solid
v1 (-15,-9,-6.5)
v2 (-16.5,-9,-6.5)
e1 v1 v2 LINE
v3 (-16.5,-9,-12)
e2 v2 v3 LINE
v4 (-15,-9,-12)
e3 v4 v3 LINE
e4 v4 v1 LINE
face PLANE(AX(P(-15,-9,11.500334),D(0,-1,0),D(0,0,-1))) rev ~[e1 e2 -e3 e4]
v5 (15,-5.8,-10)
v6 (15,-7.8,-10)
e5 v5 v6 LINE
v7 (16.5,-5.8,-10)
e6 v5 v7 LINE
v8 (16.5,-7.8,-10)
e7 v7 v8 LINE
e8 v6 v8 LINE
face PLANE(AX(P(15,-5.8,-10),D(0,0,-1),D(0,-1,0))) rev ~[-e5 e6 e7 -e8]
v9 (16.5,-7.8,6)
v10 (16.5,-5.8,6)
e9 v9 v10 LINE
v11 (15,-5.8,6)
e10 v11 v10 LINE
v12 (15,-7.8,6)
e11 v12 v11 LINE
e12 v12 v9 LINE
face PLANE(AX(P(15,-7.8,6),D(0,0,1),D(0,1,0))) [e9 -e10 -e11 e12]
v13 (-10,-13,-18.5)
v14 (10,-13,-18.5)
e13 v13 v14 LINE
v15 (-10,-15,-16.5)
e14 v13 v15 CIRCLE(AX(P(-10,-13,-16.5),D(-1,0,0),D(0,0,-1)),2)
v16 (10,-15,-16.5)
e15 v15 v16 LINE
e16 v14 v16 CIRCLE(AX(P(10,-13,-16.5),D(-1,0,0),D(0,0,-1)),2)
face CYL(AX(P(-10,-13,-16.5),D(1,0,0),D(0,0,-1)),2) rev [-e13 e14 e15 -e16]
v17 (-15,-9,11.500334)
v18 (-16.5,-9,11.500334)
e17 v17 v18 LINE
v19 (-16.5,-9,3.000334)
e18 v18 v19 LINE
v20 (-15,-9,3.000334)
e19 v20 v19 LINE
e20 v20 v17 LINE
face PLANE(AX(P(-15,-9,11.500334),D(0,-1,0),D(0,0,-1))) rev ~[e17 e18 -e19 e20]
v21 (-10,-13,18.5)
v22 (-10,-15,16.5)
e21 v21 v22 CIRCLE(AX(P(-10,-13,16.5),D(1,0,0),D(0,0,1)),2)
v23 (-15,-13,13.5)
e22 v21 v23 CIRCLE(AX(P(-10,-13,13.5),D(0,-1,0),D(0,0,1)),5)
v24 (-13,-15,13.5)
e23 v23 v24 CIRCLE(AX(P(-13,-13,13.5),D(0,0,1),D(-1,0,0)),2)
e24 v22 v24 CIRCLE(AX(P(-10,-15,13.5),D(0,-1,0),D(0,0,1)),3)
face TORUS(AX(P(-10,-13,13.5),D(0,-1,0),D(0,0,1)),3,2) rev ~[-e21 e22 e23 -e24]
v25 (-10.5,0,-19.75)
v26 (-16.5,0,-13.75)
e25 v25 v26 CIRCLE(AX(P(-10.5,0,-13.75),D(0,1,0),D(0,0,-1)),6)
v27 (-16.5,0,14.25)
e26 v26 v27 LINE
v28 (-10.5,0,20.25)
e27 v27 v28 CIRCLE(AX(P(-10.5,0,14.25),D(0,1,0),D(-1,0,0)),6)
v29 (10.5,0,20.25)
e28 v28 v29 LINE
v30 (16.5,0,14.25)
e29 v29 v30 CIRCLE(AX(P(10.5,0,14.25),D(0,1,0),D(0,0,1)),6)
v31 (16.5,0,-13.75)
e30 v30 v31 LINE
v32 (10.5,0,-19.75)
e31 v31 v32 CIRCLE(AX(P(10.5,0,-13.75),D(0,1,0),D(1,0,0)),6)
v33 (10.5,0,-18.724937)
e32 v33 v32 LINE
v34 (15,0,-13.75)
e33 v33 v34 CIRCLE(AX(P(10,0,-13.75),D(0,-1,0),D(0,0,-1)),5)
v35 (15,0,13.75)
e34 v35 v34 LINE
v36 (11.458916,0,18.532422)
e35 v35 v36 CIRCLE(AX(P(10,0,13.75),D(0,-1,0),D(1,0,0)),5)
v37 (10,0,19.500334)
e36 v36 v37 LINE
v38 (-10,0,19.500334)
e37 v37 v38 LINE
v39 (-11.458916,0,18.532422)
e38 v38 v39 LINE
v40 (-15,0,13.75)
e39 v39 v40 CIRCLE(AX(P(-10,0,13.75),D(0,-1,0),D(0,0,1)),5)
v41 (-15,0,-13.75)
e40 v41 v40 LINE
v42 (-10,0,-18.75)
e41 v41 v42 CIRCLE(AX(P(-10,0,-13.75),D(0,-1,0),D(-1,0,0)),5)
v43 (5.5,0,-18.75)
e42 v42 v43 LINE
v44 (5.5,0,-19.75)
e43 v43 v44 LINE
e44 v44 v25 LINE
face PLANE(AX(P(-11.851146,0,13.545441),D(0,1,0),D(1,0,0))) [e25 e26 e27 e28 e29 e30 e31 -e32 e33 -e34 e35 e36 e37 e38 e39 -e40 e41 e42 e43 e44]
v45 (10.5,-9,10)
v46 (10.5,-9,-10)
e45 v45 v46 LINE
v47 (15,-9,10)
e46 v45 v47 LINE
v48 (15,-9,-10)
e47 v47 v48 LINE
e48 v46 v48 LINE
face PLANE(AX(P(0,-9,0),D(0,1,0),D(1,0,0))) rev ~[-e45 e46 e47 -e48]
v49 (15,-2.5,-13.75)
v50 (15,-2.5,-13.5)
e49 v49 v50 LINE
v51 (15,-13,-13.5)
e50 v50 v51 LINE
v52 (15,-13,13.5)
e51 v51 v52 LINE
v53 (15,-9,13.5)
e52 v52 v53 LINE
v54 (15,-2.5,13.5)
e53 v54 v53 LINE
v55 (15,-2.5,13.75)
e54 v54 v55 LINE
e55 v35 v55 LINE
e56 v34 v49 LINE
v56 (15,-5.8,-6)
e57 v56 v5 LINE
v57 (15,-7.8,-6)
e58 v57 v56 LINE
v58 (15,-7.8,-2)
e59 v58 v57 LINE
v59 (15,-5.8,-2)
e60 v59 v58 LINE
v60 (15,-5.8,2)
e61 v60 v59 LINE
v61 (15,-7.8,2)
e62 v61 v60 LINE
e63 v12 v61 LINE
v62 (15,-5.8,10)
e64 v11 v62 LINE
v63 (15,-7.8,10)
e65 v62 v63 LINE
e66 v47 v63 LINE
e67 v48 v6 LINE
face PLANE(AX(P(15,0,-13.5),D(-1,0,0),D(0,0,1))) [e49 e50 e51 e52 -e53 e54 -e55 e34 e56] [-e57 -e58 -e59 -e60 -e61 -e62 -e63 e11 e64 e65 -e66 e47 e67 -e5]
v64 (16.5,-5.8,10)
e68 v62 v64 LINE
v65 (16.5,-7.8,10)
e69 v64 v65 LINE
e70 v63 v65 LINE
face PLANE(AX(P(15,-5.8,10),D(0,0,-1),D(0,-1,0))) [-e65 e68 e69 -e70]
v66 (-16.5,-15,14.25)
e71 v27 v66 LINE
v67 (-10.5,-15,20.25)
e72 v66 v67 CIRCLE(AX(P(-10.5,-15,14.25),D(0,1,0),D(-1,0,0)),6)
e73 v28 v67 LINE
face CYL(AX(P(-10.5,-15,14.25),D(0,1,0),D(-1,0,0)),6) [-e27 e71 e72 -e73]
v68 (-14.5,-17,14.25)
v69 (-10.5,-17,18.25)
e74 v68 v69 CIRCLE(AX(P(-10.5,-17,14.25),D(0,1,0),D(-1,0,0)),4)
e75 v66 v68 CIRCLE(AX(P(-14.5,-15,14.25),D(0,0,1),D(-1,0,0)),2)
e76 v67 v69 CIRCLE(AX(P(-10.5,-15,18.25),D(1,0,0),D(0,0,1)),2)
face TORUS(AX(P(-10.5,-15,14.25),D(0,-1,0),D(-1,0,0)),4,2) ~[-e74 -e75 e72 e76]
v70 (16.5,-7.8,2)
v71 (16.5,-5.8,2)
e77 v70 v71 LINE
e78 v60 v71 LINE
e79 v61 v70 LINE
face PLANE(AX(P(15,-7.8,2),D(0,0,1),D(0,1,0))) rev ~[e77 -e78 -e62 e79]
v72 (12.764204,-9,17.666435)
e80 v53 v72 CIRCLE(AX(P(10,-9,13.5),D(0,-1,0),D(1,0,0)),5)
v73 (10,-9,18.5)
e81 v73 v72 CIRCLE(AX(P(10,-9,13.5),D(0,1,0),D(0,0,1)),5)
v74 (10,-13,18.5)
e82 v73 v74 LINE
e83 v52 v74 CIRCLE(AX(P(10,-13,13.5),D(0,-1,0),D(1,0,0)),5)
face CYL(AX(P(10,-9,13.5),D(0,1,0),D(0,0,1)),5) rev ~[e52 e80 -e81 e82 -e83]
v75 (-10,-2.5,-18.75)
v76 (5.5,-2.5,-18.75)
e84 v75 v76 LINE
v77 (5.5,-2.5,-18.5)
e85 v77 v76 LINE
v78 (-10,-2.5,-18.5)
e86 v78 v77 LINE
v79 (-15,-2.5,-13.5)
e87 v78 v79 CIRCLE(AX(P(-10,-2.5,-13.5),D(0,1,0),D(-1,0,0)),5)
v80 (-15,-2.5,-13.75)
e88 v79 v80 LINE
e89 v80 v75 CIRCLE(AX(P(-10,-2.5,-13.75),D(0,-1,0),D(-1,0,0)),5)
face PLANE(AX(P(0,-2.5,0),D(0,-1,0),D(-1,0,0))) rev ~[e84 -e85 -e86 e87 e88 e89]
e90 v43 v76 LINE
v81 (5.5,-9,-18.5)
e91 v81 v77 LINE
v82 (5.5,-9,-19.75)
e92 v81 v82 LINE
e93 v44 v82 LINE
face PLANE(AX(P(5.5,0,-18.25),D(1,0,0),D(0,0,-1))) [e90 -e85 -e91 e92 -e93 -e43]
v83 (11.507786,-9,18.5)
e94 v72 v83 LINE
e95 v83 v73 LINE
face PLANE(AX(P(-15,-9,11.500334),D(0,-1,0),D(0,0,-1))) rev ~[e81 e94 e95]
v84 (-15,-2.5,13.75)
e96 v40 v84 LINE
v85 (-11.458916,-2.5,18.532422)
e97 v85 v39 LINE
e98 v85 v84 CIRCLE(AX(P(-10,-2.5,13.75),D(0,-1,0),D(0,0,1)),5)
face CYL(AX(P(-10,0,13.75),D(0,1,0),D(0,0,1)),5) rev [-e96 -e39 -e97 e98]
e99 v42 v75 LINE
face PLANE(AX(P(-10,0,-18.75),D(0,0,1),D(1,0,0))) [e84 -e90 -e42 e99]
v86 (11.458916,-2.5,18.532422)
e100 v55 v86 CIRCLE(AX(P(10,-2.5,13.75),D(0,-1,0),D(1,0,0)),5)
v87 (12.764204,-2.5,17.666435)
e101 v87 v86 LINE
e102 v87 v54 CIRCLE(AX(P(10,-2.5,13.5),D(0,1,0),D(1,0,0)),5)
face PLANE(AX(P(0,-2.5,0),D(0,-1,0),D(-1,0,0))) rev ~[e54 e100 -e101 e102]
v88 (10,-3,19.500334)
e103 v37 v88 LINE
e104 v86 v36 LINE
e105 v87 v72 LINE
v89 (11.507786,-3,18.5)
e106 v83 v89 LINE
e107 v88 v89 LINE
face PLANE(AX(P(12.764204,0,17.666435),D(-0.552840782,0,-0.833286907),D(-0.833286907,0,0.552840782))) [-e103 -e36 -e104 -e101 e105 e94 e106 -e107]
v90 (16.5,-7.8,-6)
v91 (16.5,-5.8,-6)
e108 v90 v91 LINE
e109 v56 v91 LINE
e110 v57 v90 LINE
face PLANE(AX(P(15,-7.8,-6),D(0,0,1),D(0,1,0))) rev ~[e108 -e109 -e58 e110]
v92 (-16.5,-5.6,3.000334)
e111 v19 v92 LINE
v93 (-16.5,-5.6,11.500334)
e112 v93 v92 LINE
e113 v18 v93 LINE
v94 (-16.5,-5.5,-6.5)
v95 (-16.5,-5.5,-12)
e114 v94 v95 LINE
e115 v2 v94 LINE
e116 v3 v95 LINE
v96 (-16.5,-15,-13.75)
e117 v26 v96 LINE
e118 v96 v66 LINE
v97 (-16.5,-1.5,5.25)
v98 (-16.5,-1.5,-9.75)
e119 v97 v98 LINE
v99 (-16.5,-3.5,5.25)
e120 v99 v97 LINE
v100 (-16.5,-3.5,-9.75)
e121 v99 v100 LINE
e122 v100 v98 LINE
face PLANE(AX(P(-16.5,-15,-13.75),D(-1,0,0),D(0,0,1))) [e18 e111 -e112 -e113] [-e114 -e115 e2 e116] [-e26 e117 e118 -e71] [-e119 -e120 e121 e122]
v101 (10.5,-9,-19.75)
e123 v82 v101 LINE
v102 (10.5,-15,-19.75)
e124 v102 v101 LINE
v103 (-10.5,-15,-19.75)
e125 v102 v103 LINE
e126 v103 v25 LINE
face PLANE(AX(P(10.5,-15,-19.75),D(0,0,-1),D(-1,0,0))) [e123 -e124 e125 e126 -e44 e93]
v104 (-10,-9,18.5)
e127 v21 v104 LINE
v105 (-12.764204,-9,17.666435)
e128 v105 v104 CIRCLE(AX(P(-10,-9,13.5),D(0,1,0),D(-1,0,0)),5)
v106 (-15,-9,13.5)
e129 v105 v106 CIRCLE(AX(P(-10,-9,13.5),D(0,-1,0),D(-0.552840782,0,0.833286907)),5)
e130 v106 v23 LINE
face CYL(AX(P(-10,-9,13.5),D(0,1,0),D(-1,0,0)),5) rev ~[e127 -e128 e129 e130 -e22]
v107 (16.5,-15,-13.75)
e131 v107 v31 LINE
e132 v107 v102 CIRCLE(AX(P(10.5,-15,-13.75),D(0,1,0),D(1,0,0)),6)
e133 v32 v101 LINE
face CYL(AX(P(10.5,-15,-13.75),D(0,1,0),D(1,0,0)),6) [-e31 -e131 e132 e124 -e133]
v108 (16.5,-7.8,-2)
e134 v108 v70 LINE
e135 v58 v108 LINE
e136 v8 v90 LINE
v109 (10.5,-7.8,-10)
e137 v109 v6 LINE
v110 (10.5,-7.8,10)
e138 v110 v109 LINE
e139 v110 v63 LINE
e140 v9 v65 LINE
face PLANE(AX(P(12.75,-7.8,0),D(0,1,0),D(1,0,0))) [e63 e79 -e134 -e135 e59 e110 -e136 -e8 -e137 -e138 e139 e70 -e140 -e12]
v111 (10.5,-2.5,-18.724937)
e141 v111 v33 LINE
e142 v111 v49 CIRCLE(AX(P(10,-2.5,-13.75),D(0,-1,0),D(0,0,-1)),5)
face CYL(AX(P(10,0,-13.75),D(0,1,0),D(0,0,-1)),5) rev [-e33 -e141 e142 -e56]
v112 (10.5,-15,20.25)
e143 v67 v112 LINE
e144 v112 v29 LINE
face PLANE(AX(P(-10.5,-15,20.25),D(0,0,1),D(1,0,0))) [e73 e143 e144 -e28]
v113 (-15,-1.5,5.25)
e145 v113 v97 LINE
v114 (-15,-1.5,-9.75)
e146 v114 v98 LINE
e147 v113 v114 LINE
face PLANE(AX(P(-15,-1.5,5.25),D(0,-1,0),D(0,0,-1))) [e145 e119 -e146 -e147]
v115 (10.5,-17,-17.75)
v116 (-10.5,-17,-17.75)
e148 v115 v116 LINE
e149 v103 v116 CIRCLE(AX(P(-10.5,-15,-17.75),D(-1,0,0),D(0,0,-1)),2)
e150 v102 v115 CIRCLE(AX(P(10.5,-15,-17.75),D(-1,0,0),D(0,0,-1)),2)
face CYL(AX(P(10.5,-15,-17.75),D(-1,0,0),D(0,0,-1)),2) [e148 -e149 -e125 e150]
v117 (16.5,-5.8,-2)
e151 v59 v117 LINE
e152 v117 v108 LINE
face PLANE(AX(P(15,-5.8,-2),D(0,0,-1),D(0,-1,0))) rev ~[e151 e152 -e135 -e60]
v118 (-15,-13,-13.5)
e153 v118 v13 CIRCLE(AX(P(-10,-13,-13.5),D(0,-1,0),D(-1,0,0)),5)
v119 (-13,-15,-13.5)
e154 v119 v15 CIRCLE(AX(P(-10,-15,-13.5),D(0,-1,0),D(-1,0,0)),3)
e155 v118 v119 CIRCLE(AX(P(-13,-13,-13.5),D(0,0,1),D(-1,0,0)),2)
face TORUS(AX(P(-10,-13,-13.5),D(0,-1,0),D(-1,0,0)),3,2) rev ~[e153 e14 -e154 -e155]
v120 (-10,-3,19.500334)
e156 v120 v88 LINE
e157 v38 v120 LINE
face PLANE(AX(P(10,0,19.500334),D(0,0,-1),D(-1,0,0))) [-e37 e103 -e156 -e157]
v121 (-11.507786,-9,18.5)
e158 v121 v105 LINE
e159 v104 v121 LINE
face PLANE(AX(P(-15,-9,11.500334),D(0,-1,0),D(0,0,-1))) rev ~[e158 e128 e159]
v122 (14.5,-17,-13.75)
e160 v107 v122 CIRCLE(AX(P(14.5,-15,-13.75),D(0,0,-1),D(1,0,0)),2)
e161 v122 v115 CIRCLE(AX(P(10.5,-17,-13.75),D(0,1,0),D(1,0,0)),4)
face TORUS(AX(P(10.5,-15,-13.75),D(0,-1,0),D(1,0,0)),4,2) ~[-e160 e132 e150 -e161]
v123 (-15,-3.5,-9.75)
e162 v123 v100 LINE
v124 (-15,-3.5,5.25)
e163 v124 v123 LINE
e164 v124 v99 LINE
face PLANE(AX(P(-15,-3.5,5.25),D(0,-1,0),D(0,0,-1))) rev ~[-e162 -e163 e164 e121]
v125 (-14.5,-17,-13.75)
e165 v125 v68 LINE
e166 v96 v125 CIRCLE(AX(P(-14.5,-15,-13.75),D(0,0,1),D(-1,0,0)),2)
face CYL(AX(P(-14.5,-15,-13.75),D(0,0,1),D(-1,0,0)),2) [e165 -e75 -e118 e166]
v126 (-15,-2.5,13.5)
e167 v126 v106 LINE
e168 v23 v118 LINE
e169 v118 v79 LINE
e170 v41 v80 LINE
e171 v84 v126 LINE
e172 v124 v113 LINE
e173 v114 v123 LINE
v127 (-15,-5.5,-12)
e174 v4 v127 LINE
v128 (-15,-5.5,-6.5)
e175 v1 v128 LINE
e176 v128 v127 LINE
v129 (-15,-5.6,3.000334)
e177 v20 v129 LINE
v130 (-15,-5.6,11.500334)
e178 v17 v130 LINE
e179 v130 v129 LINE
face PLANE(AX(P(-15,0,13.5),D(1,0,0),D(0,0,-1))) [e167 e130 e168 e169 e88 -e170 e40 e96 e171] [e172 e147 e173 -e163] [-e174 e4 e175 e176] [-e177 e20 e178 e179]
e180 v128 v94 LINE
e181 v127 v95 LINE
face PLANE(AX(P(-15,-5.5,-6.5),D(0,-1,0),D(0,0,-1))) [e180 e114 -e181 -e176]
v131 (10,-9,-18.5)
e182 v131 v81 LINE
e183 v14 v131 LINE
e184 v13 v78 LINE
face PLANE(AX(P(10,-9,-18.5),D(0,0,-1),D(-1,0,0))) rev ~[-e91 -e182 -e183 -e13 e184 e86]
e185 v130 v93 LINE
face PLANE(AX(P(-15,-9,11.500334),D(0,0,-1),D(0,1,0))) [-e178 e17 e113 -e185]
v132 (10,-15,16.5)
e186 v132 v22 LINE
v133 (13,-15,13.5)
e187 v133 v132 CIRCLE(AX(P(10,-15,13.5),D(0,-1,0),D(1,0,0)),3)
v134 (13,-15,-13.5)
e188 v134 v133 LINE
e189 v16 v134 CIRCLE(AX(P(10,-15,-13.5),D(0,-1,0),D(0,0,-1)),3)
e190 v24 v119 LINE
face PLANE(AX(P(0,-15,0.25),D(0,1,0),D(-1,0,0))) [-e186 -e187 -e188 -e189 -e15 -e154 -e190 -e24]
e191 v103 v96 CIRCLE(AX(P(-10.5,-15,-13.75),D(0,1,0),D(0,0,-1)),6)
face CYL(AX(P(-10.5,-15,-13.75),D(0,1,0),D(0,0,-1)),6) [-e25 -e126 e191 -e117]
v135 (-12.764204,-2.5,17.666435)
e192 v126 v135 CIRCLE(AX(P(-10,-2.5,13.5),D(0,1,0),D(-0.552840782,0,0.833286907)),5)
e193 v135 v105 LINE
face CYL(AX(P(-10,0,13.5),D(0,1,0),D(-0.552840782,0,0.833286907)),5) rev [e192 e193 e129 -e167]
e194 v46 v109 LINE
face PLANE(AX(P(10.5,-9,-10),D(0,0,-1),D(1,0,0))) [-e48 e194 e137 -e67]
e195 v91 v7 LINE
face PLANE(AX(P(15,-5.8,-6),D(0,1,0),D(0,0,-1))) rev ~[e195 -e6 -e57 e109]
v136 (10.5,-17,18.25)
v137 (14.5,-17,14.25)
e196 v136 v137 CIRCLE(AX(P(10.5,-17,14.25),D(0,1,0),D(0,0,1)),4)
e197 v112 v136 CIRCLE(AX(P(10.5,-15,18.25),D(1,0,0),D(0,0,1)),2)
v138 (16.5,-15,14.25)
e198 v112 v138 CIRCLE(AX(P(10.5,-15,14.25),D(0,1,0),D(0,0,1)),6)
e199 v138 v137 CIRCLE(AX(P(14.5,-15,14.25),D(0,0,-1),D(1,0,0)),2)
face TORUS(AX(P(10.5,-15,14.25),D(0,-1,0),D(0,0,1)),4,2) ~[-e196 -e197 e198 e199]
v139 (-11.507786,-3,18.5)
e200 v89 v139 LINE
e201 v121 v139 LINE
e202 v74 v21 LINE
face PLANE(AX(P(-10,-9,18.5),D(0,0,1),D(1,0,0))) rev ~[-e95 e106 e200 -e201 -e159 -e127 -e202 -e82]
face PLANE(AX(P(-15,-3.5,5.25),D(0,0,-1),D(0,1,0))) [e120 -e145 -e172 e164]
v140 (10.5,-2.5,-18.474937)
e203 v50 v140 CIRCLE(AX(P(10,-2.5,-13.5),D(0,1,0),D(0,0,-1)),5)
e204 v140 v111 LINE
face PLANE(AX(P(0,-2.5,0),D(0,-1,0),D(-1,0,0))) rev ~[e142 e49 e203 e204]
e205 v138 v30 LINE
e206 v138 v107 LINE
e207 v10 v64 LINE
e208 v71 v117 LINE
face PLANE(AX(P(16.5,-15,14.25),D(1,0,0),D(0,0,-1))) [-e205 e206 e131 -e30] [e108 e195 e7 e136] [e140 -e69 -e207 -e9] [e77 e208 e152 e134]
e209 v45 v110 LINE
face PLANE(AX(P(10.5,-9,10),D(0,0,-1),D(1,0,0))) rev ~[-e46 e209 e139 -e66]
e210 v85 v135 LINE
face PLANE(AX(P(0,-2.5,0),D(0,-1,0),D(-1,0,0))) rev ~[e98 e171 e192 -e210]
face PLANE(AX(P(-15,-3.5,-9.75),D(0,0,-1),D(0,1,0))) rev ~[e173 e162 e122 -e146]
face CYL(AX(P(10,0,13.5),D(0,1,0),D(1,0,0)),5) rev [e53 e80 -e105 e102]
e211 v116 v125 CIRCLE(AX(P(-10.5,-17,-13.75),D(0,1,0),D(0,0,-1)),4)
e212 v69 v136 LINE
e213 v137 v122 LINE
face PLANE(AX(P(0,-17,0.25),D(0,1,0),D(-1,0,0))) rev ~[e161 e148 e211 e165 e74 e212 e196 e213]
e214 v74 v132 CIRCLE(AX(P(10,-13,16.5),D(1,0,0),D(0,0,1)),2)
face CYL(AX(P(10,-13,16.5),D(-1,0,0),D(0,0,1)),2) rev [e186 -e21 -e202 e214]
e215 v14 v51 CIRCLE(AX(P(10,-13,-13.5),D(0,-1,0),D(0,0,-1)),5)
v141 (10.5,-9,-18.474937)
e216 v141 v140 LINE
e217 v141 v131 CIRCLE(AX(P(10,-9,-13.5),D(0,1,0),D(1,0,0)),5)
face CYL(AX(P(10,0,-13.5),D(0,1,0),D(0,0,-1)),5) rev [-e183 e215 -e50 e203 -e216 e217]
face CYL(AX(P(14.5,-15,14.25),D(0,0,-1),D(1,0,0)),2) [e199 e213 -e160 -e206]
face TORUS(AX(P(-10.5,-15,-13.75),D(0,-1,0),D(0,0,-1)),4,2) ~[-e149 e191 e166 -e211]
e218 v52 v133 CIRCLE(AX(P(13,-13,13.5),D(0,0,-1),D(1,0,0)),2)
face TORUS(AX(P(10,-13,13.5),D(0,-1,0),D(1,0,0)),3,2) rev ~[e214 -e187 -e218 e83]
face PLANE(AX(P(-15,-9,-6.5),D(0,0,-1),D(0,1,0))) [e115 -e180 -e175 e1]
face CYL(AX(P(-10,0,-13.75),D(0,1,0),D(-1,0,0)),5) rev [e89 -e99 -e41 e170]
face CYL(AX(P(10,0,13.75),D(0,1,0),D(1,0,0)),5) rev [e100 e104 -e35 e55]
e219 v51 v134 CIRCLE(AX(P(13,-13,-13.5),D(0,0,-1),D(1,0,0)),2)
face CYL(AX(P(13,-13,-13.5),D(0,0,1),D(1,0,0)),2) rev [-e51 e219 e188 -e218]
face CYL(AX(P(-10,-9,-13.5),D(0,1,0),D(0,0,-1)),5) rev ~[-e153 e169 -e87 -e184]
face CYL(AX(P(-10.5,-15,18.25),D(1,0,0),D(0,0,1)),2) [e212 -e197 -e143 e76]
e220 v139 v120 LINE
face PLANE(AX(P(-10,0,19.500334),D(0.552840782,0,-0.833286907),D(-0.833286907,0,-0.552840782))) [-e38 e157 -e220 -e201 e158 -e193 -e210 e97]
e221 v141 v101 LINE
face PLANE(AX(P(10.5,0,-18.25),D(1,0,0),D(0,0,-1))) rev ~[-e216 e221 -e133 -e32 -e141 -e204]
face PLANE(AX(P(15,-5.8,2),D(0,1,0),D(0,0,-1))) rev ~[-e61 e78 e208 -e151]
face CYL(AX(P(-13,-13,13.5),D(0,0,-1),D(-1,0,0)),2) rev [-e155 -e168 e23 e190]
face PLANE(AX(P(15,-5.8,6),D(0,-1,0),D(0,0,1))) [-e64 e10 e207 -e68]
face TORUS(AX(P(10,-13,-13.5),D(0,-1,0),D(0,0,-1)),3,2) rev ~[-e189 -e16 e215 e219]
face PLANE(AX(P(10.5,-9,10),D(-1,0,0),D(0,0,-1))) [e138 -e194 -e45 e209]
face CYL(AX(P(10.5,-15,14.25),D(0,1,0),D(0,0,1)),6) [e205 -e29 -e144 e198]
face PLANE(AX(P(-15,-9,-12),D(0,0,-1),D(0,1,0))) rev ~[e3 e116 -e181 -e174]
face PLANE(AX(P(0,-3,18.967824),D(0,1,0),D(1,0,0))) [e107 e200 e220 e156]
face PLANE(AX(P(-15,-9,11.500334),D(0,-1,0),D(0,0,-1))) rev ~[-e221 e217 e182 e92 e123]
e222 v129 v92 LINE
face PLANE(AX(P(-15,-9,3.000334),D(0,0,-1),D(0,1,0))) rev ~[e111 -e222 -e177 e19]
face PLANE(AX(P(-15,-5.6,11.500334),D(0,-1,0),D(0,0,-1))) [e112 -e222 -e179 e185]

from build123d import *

# Parameters (mm, degrees)
EXTRUDE_1_DEPTH     = 9
EXTRUDE_2_DEPTH     = 1
SKETCH_4_W          = 8.5
SKETCH_4_H          = 3.4
SKETCH_4_W_2        = 15
SKETCH_4_H_2        = 2
SKETCH_4_W_3        = 5.5
SKETCH_4_H_3        = 3.5
CUT_EXTRUDE_1_DEPTH = 21
SKETCH_5_W          = 4
SKETCH_5_H          = 2
CUT_EXTRUDE_2_DEPTH = 7
EXTRUDE_3_DEPTH     = 6
SKETCH_9_W          = 5
SKETCH_9_H          = 1.5
CUT_EXTRUDE_4_DEPTH = 9
SKETCH_10_W         = 4.5
SKETCH_10_H         = 20
EXTRUDE_4_DEPTH     = 1.2
CUT_EXTRUDE_5_DEPTH = 2.5
CUT_EXTRUDE_6_DEPTH = 10
EXTRUDE_5_DEPTH     = 6
EXTRUDE_6_DEPTH     = 2
FILLET_1_R          = 2


with BuildPart() as part:
    # 草图1 → 凸台-拉伸1 (new body)
    with BuildSketch(Plane(origin=(0, 0, 0), x_dir=(1, 0, 0), z_dir=(0, 1, 0))):
        with BuildLine():
            Line((-16.5, 13.75), (-16.5, -14.25))
            ThreePointArc((-16.5, -14.25), (-14.742640687, -18.492640687), (-10.5, -20.25))
            Line((-10.5, -20.25), (10.5, -20.25))
            ThreePointArc((10.5, -20.25), (14.742640687, -18.492640687), (16.5, -14.25))
            Line((16.5, -14.25), (16.5, 13.75))
            ThreePointArc((16.5, 13.75), (14.742640687, 17.992640687), (10.5, 19.75))
            Line((10.5, 19.75), (-10.5, 19.75))
            ThreePointArc((-10.5, 19.75), (-14.742640687, 17.992640687), (-16.5, 13.75))
        make_face()
        with BuildLine():
            Line((-10, 18.5), (10, 18.5))
            ThreePointArc((10, 18.5), (13.535533906, 17.035533906), (15, 13.5))
            Line((15, 13.5), (15, -13.5))
            ThreePointArc((15, -13.5), (14.405736008, -15.864210276), (12.764203909, -17.666434537))
            Line((12.764203909, -17.666434537), (10, -19.500334285))
            Line((10, -19.500334285), (-10, -19.500334285))
            Line((-10, -19.500334285), (-12.764203909, -17.666434537))
            ThreePointArc((-12.764203909, -17.666434537), (-14.405736008, -15.864210276), (-15, -13.5))
            Line((-15, -13.5), (-15, 13.5))
            ThreePointArc((-15, 13.5), (-13.535533906, 17.035533906), (-10, 18.5))
        make_face(mode=Mode.SUBTRACT)
    extrude(amount=-EXTRUDE_1_DEPTH)

    # 草图3 → 凸台-拉伸2 (add)
    with BuildSketch(Plane.XZ.offset(9)):
        with BuildLine():
            Line((-10.5, -19.75), (10.5, -19.75))
            ThreePointArc((10.5, -19.75), (14.742640687, -17.992640687), (16.5, -13.75))
            Line((16.5, -13.75), (16.5, 14.25))
            ThreePointArc((16.5, 14.25), (14.742640687, 18.492640687), (10.5, 20.25))
            Line((10.5, 20.25), (-10.5, 20.25))
            ThreePointArc((-10.5, 20.25), (-14.742640687, 18.492640687), (-16.5, 14.25))
            Line((-16.5, 14.25), (-16.5, -13.75))
            ThreePointArc((-16.5, -13.75), (-14.742640687, -17.992640687), (-10.5, -19.75))
        make_face()
    extrude(amount=EXTRUDE_2_DEPTH)

    # 草图4 → 切除-拉伸1 (cut)
    with BuildSketch(Plane(origin=(-15, 0, 0), x_dir=(0, 0, -1), z_dir=(1, 0, 0))):
        with Locations((-7.250334285, -7.3)):
            Rectangle(SKETCH_4_W, SKETCH_4_H)
        with Locations((2.25, -2.5)):
            Rectangle(SKETCH_4_W_2, SKETCH_4_H_2)
        with Locations((9.25, -7.25)):
            Rectangle(SKETCH_4_W_3, SKETCH_4_H_3)
    extrude(amount=-CUT_EXTRUDE_1_DEPTH, mode=Mode.SUBTRACT)

    # 草图5 → 切除-拉伸2 (cut)
    with BuildSketch(Plane.ZY.offset(-15)):
        with Locations((0, -6.8)):
            Rectangle(SKETCH_5_W, SKETCH_5_H)
        with Locations((8, -6.8)):
            Rectangle(SKETCH_5_W, SKETCH_5_H)
        with Locations((-8, -6.8)):
            Rectangle(SKETCH_5_W, SKETCH_5_H)
    extrude(amount=-CUT_EXTRUDE_2_DEPTH, mode=Mode.SUBTRACT)

    # 草图6 → 凸台-拉伸3 (add)
    with BuildSketch(Plane(origin=(0, -9, 0), x_dir=(1, 0, 0), z_dir=(0, 1, 0))):
        Polygon((10, -19.500334285), (11.507785769, -18.5), (10, -18.5), (-10, -18.5), (-11.507785769, -18.5), (-10, -19.500334285), align=None)
    extrude(amount=EXTRUDE_3_DEPTH)

    # 草图9 → 切除-拉伸4 (cut)
    with BuildSketch(Plane(origin=(0, 0, 0), x_dir=(1, 0, 0), z_dir=(0, 1, 0))):
        with Locations((8, 19)):
            Rectangle(SKETCH_9_W, SKETCH_9_H)
    extrude(amount=-CUT_EXTRUDE_4_DEPTH, mode=Mode.SUBTRACT)

    # 草图10 → 凸台-拉伸4 (add)
    with BuildSketch(Plane(origin=(0, -9, 0), x_dir=(1, 0, 0), z_dir=(0, 1, 0))):
        with Locations((12.75, 0)):
            Rectangle(SKETCH_10_W, SKETCH_10_H)
    extrude(amount=EXTRUDE_4_DEPTH)

    # 草图12 → 切除-拉伸5 (cut)
    with BuildSketch(Plane(origin=(0, 0, 0), x_dir=(1, 0, 0), z_dir=(0, 1, 0))):
        with BuildLine():
            Line((10, -18.75), (-10, -18.75))
            ThreePointArc((-10, -18.75), (-13.535533906, -17.285533906), (-15, -13.75))
            Line((-15, -13.75), (-15, 13.75))
            ThreePointArc((-15, 13.75), (-13.535533906, 17.285533906), (-10, 18.75))
            Line((-10, 18.75), (10, 18.75))
            ThreePointArc((10, 18.75), (13.535533906, 17.285533906), (15, 13.75))
            Line((15, 13.75), (15, -13.75))
            ThreePointArc((15, -13.75), (13.535533906, -17.285533906), (10, -18.75))
        make_face()
    extrude(amount=-CUT_EXTRUDE_5_DEPTH, mode=Mode.SUBTRACT)

    # 草图13 → 切除-拉伸6 (cut)
    with BuildSketch(Plane(origin=(0, -9, 0), x_dir=(1, 0, 0), z_dir=(0, 1, 0))):
        with BuildLine():
            Line((-10, -18.5), (10, -18.5))
            ThreePointArc((10, -18.5), (13.535533906, -17.035533906), (15, -13.5))
            Line((15, -13.5), (15, 13.5))
            ThreePointArc((15, 13.5), (13.535533906, 17.035533906), (10, 18.5))
            Line((10, 18.5), (-10, 18.5))
            ThreePointArc((-10, 18.5), (-13.535533906, 17.035533906), (-15, 13.5))
            Line((-15, 13.5), (-15, -13.5))
            ThreePointArc((-15, -13.5), (-13.535533906, -17.035533906), (-10, -18.5))
        make_face()
    extrude(amount=-CUT_EXTRUDE_6_DEPTH, mode=Mode.SUBTRACT)

    # 草图14 → 凸台-拉伸5 (add)
    with BuildSketch(Plane.XZ.offset(9)):
        with BuildLine():
            Line((10.5, 20.25), (0, 20.25))
            Line((0, 20.25), (-10.5, 20.25))
            ThreePointArc((-10.5, 20.25), (-14.742640687, 18.492640687), (-16.5, 14.25))
            Line((-16.5, 14.25), (-16.5, -13.75))
            ThreePointArc((-16.5, -13.75), (-14.742640687, -17.992640687), (-10.5, -19.75))
            Line((-10.5, -19.75), (10.5, -19.75))
            ThreePointArc((10.5, -19.75), (14.742640687, -17.992640687), (16.5, -13.75))
            Line((16.5, -13.75), (16.5, 14.25))
            ThreePointArc((16.5, 14.25), (14.742640687, 18.492640687), (10.5, 20.25))
        make_face()
        with BuildLine():
            Line((-10, 18.5), (0, 18.5))
            Line((0, 18.5), (10, 18.5))
            ThreePointArc((10, 18.5), (13.535533906, 17.035533906), (15, 13.5))
            Line((15, 13.5), (15, 10))
            Line((15, 10), (15, -10))
            Line((15, -10), (15, -13.5))
            ThreePointArc((15, -13.5), (13.535533906, -17.035533906), (10, -18.5))
            Line((10, -18.5), (-10, -18.5))
            ThreePointArc((-10, -18.5), (-13.535533906, -17.035533906), (-15, -13.5))
            Line((-15, -13.5), (-15, 13.5))
            ThreePointArc((-15, 13.5), (-13.535533906, 17.035533906), (-10, 18.5))
        make_face(mode=Mode.SUBTRACT)
    extrude(amount=EXTRUDE_5_DEPTH)

    # 草图15 → 凸台-拉伸6 (add)
    with BuildSketch(Plane.XZ.offset(15)):
        with BuildLine():
            Line((-10.5, 20.25), (10.5, 20.25))
            ThreePointArc((10.5, 20.25), (14.742640687, 18.492640687), (16.5, 14.25))
            Line((16.5, 14.25), (16.5, -13.75))
            ThreePointArc((16.5, -13.75), (14.742640687, -17.992640687), (10.5, -19.75))
            Line((10.5, -19.75), (-10.5, -19.75))
            ThreePointArc((-10.5, -19.75), (-14.742640687, -17.992640687), (-16.5, -13.75))
            Line((-16.5, -13.75), (-16.5, 14.25))
            ThreePointArc((-16.5, 14.25), (-14.742640687, 18.492640687), (-10.5, 20.25))
        make_face()
    extrude(amount=EXTRUDE_6_DEPTH)

    # 圆角1
    fillet_1_edges = [part.edges().sort_by_distance(p)[0] for p in [
        (-13.535533906, -15, -17.035533906),
        (0, -15, -18.5),
        (13.535533906, -15, -17.035533906),
        (15, -15, 0),
        (13.535533906, -15, 17.035533906),
        (0, -15, 18.5),
        (-13.535533906, -15, 17.035533906),
        (-15, -15, 0),
        (-16.5, -17, 0.25),
        (-14.742640687, -17, 18.492640687),
        (0, -17, 20.25),
        (14.742640687, -17, 18.492640687),
        (16.5, -17, 0.25),
        (14.742640687, -17, -17.992640687),
        (0, -17, -19.75),
        (-14.742640687, -17, -17.992640687),
    ]]
    fillet(fillet_1_edges, radius=FILLET_1_R)


solid = part.part
